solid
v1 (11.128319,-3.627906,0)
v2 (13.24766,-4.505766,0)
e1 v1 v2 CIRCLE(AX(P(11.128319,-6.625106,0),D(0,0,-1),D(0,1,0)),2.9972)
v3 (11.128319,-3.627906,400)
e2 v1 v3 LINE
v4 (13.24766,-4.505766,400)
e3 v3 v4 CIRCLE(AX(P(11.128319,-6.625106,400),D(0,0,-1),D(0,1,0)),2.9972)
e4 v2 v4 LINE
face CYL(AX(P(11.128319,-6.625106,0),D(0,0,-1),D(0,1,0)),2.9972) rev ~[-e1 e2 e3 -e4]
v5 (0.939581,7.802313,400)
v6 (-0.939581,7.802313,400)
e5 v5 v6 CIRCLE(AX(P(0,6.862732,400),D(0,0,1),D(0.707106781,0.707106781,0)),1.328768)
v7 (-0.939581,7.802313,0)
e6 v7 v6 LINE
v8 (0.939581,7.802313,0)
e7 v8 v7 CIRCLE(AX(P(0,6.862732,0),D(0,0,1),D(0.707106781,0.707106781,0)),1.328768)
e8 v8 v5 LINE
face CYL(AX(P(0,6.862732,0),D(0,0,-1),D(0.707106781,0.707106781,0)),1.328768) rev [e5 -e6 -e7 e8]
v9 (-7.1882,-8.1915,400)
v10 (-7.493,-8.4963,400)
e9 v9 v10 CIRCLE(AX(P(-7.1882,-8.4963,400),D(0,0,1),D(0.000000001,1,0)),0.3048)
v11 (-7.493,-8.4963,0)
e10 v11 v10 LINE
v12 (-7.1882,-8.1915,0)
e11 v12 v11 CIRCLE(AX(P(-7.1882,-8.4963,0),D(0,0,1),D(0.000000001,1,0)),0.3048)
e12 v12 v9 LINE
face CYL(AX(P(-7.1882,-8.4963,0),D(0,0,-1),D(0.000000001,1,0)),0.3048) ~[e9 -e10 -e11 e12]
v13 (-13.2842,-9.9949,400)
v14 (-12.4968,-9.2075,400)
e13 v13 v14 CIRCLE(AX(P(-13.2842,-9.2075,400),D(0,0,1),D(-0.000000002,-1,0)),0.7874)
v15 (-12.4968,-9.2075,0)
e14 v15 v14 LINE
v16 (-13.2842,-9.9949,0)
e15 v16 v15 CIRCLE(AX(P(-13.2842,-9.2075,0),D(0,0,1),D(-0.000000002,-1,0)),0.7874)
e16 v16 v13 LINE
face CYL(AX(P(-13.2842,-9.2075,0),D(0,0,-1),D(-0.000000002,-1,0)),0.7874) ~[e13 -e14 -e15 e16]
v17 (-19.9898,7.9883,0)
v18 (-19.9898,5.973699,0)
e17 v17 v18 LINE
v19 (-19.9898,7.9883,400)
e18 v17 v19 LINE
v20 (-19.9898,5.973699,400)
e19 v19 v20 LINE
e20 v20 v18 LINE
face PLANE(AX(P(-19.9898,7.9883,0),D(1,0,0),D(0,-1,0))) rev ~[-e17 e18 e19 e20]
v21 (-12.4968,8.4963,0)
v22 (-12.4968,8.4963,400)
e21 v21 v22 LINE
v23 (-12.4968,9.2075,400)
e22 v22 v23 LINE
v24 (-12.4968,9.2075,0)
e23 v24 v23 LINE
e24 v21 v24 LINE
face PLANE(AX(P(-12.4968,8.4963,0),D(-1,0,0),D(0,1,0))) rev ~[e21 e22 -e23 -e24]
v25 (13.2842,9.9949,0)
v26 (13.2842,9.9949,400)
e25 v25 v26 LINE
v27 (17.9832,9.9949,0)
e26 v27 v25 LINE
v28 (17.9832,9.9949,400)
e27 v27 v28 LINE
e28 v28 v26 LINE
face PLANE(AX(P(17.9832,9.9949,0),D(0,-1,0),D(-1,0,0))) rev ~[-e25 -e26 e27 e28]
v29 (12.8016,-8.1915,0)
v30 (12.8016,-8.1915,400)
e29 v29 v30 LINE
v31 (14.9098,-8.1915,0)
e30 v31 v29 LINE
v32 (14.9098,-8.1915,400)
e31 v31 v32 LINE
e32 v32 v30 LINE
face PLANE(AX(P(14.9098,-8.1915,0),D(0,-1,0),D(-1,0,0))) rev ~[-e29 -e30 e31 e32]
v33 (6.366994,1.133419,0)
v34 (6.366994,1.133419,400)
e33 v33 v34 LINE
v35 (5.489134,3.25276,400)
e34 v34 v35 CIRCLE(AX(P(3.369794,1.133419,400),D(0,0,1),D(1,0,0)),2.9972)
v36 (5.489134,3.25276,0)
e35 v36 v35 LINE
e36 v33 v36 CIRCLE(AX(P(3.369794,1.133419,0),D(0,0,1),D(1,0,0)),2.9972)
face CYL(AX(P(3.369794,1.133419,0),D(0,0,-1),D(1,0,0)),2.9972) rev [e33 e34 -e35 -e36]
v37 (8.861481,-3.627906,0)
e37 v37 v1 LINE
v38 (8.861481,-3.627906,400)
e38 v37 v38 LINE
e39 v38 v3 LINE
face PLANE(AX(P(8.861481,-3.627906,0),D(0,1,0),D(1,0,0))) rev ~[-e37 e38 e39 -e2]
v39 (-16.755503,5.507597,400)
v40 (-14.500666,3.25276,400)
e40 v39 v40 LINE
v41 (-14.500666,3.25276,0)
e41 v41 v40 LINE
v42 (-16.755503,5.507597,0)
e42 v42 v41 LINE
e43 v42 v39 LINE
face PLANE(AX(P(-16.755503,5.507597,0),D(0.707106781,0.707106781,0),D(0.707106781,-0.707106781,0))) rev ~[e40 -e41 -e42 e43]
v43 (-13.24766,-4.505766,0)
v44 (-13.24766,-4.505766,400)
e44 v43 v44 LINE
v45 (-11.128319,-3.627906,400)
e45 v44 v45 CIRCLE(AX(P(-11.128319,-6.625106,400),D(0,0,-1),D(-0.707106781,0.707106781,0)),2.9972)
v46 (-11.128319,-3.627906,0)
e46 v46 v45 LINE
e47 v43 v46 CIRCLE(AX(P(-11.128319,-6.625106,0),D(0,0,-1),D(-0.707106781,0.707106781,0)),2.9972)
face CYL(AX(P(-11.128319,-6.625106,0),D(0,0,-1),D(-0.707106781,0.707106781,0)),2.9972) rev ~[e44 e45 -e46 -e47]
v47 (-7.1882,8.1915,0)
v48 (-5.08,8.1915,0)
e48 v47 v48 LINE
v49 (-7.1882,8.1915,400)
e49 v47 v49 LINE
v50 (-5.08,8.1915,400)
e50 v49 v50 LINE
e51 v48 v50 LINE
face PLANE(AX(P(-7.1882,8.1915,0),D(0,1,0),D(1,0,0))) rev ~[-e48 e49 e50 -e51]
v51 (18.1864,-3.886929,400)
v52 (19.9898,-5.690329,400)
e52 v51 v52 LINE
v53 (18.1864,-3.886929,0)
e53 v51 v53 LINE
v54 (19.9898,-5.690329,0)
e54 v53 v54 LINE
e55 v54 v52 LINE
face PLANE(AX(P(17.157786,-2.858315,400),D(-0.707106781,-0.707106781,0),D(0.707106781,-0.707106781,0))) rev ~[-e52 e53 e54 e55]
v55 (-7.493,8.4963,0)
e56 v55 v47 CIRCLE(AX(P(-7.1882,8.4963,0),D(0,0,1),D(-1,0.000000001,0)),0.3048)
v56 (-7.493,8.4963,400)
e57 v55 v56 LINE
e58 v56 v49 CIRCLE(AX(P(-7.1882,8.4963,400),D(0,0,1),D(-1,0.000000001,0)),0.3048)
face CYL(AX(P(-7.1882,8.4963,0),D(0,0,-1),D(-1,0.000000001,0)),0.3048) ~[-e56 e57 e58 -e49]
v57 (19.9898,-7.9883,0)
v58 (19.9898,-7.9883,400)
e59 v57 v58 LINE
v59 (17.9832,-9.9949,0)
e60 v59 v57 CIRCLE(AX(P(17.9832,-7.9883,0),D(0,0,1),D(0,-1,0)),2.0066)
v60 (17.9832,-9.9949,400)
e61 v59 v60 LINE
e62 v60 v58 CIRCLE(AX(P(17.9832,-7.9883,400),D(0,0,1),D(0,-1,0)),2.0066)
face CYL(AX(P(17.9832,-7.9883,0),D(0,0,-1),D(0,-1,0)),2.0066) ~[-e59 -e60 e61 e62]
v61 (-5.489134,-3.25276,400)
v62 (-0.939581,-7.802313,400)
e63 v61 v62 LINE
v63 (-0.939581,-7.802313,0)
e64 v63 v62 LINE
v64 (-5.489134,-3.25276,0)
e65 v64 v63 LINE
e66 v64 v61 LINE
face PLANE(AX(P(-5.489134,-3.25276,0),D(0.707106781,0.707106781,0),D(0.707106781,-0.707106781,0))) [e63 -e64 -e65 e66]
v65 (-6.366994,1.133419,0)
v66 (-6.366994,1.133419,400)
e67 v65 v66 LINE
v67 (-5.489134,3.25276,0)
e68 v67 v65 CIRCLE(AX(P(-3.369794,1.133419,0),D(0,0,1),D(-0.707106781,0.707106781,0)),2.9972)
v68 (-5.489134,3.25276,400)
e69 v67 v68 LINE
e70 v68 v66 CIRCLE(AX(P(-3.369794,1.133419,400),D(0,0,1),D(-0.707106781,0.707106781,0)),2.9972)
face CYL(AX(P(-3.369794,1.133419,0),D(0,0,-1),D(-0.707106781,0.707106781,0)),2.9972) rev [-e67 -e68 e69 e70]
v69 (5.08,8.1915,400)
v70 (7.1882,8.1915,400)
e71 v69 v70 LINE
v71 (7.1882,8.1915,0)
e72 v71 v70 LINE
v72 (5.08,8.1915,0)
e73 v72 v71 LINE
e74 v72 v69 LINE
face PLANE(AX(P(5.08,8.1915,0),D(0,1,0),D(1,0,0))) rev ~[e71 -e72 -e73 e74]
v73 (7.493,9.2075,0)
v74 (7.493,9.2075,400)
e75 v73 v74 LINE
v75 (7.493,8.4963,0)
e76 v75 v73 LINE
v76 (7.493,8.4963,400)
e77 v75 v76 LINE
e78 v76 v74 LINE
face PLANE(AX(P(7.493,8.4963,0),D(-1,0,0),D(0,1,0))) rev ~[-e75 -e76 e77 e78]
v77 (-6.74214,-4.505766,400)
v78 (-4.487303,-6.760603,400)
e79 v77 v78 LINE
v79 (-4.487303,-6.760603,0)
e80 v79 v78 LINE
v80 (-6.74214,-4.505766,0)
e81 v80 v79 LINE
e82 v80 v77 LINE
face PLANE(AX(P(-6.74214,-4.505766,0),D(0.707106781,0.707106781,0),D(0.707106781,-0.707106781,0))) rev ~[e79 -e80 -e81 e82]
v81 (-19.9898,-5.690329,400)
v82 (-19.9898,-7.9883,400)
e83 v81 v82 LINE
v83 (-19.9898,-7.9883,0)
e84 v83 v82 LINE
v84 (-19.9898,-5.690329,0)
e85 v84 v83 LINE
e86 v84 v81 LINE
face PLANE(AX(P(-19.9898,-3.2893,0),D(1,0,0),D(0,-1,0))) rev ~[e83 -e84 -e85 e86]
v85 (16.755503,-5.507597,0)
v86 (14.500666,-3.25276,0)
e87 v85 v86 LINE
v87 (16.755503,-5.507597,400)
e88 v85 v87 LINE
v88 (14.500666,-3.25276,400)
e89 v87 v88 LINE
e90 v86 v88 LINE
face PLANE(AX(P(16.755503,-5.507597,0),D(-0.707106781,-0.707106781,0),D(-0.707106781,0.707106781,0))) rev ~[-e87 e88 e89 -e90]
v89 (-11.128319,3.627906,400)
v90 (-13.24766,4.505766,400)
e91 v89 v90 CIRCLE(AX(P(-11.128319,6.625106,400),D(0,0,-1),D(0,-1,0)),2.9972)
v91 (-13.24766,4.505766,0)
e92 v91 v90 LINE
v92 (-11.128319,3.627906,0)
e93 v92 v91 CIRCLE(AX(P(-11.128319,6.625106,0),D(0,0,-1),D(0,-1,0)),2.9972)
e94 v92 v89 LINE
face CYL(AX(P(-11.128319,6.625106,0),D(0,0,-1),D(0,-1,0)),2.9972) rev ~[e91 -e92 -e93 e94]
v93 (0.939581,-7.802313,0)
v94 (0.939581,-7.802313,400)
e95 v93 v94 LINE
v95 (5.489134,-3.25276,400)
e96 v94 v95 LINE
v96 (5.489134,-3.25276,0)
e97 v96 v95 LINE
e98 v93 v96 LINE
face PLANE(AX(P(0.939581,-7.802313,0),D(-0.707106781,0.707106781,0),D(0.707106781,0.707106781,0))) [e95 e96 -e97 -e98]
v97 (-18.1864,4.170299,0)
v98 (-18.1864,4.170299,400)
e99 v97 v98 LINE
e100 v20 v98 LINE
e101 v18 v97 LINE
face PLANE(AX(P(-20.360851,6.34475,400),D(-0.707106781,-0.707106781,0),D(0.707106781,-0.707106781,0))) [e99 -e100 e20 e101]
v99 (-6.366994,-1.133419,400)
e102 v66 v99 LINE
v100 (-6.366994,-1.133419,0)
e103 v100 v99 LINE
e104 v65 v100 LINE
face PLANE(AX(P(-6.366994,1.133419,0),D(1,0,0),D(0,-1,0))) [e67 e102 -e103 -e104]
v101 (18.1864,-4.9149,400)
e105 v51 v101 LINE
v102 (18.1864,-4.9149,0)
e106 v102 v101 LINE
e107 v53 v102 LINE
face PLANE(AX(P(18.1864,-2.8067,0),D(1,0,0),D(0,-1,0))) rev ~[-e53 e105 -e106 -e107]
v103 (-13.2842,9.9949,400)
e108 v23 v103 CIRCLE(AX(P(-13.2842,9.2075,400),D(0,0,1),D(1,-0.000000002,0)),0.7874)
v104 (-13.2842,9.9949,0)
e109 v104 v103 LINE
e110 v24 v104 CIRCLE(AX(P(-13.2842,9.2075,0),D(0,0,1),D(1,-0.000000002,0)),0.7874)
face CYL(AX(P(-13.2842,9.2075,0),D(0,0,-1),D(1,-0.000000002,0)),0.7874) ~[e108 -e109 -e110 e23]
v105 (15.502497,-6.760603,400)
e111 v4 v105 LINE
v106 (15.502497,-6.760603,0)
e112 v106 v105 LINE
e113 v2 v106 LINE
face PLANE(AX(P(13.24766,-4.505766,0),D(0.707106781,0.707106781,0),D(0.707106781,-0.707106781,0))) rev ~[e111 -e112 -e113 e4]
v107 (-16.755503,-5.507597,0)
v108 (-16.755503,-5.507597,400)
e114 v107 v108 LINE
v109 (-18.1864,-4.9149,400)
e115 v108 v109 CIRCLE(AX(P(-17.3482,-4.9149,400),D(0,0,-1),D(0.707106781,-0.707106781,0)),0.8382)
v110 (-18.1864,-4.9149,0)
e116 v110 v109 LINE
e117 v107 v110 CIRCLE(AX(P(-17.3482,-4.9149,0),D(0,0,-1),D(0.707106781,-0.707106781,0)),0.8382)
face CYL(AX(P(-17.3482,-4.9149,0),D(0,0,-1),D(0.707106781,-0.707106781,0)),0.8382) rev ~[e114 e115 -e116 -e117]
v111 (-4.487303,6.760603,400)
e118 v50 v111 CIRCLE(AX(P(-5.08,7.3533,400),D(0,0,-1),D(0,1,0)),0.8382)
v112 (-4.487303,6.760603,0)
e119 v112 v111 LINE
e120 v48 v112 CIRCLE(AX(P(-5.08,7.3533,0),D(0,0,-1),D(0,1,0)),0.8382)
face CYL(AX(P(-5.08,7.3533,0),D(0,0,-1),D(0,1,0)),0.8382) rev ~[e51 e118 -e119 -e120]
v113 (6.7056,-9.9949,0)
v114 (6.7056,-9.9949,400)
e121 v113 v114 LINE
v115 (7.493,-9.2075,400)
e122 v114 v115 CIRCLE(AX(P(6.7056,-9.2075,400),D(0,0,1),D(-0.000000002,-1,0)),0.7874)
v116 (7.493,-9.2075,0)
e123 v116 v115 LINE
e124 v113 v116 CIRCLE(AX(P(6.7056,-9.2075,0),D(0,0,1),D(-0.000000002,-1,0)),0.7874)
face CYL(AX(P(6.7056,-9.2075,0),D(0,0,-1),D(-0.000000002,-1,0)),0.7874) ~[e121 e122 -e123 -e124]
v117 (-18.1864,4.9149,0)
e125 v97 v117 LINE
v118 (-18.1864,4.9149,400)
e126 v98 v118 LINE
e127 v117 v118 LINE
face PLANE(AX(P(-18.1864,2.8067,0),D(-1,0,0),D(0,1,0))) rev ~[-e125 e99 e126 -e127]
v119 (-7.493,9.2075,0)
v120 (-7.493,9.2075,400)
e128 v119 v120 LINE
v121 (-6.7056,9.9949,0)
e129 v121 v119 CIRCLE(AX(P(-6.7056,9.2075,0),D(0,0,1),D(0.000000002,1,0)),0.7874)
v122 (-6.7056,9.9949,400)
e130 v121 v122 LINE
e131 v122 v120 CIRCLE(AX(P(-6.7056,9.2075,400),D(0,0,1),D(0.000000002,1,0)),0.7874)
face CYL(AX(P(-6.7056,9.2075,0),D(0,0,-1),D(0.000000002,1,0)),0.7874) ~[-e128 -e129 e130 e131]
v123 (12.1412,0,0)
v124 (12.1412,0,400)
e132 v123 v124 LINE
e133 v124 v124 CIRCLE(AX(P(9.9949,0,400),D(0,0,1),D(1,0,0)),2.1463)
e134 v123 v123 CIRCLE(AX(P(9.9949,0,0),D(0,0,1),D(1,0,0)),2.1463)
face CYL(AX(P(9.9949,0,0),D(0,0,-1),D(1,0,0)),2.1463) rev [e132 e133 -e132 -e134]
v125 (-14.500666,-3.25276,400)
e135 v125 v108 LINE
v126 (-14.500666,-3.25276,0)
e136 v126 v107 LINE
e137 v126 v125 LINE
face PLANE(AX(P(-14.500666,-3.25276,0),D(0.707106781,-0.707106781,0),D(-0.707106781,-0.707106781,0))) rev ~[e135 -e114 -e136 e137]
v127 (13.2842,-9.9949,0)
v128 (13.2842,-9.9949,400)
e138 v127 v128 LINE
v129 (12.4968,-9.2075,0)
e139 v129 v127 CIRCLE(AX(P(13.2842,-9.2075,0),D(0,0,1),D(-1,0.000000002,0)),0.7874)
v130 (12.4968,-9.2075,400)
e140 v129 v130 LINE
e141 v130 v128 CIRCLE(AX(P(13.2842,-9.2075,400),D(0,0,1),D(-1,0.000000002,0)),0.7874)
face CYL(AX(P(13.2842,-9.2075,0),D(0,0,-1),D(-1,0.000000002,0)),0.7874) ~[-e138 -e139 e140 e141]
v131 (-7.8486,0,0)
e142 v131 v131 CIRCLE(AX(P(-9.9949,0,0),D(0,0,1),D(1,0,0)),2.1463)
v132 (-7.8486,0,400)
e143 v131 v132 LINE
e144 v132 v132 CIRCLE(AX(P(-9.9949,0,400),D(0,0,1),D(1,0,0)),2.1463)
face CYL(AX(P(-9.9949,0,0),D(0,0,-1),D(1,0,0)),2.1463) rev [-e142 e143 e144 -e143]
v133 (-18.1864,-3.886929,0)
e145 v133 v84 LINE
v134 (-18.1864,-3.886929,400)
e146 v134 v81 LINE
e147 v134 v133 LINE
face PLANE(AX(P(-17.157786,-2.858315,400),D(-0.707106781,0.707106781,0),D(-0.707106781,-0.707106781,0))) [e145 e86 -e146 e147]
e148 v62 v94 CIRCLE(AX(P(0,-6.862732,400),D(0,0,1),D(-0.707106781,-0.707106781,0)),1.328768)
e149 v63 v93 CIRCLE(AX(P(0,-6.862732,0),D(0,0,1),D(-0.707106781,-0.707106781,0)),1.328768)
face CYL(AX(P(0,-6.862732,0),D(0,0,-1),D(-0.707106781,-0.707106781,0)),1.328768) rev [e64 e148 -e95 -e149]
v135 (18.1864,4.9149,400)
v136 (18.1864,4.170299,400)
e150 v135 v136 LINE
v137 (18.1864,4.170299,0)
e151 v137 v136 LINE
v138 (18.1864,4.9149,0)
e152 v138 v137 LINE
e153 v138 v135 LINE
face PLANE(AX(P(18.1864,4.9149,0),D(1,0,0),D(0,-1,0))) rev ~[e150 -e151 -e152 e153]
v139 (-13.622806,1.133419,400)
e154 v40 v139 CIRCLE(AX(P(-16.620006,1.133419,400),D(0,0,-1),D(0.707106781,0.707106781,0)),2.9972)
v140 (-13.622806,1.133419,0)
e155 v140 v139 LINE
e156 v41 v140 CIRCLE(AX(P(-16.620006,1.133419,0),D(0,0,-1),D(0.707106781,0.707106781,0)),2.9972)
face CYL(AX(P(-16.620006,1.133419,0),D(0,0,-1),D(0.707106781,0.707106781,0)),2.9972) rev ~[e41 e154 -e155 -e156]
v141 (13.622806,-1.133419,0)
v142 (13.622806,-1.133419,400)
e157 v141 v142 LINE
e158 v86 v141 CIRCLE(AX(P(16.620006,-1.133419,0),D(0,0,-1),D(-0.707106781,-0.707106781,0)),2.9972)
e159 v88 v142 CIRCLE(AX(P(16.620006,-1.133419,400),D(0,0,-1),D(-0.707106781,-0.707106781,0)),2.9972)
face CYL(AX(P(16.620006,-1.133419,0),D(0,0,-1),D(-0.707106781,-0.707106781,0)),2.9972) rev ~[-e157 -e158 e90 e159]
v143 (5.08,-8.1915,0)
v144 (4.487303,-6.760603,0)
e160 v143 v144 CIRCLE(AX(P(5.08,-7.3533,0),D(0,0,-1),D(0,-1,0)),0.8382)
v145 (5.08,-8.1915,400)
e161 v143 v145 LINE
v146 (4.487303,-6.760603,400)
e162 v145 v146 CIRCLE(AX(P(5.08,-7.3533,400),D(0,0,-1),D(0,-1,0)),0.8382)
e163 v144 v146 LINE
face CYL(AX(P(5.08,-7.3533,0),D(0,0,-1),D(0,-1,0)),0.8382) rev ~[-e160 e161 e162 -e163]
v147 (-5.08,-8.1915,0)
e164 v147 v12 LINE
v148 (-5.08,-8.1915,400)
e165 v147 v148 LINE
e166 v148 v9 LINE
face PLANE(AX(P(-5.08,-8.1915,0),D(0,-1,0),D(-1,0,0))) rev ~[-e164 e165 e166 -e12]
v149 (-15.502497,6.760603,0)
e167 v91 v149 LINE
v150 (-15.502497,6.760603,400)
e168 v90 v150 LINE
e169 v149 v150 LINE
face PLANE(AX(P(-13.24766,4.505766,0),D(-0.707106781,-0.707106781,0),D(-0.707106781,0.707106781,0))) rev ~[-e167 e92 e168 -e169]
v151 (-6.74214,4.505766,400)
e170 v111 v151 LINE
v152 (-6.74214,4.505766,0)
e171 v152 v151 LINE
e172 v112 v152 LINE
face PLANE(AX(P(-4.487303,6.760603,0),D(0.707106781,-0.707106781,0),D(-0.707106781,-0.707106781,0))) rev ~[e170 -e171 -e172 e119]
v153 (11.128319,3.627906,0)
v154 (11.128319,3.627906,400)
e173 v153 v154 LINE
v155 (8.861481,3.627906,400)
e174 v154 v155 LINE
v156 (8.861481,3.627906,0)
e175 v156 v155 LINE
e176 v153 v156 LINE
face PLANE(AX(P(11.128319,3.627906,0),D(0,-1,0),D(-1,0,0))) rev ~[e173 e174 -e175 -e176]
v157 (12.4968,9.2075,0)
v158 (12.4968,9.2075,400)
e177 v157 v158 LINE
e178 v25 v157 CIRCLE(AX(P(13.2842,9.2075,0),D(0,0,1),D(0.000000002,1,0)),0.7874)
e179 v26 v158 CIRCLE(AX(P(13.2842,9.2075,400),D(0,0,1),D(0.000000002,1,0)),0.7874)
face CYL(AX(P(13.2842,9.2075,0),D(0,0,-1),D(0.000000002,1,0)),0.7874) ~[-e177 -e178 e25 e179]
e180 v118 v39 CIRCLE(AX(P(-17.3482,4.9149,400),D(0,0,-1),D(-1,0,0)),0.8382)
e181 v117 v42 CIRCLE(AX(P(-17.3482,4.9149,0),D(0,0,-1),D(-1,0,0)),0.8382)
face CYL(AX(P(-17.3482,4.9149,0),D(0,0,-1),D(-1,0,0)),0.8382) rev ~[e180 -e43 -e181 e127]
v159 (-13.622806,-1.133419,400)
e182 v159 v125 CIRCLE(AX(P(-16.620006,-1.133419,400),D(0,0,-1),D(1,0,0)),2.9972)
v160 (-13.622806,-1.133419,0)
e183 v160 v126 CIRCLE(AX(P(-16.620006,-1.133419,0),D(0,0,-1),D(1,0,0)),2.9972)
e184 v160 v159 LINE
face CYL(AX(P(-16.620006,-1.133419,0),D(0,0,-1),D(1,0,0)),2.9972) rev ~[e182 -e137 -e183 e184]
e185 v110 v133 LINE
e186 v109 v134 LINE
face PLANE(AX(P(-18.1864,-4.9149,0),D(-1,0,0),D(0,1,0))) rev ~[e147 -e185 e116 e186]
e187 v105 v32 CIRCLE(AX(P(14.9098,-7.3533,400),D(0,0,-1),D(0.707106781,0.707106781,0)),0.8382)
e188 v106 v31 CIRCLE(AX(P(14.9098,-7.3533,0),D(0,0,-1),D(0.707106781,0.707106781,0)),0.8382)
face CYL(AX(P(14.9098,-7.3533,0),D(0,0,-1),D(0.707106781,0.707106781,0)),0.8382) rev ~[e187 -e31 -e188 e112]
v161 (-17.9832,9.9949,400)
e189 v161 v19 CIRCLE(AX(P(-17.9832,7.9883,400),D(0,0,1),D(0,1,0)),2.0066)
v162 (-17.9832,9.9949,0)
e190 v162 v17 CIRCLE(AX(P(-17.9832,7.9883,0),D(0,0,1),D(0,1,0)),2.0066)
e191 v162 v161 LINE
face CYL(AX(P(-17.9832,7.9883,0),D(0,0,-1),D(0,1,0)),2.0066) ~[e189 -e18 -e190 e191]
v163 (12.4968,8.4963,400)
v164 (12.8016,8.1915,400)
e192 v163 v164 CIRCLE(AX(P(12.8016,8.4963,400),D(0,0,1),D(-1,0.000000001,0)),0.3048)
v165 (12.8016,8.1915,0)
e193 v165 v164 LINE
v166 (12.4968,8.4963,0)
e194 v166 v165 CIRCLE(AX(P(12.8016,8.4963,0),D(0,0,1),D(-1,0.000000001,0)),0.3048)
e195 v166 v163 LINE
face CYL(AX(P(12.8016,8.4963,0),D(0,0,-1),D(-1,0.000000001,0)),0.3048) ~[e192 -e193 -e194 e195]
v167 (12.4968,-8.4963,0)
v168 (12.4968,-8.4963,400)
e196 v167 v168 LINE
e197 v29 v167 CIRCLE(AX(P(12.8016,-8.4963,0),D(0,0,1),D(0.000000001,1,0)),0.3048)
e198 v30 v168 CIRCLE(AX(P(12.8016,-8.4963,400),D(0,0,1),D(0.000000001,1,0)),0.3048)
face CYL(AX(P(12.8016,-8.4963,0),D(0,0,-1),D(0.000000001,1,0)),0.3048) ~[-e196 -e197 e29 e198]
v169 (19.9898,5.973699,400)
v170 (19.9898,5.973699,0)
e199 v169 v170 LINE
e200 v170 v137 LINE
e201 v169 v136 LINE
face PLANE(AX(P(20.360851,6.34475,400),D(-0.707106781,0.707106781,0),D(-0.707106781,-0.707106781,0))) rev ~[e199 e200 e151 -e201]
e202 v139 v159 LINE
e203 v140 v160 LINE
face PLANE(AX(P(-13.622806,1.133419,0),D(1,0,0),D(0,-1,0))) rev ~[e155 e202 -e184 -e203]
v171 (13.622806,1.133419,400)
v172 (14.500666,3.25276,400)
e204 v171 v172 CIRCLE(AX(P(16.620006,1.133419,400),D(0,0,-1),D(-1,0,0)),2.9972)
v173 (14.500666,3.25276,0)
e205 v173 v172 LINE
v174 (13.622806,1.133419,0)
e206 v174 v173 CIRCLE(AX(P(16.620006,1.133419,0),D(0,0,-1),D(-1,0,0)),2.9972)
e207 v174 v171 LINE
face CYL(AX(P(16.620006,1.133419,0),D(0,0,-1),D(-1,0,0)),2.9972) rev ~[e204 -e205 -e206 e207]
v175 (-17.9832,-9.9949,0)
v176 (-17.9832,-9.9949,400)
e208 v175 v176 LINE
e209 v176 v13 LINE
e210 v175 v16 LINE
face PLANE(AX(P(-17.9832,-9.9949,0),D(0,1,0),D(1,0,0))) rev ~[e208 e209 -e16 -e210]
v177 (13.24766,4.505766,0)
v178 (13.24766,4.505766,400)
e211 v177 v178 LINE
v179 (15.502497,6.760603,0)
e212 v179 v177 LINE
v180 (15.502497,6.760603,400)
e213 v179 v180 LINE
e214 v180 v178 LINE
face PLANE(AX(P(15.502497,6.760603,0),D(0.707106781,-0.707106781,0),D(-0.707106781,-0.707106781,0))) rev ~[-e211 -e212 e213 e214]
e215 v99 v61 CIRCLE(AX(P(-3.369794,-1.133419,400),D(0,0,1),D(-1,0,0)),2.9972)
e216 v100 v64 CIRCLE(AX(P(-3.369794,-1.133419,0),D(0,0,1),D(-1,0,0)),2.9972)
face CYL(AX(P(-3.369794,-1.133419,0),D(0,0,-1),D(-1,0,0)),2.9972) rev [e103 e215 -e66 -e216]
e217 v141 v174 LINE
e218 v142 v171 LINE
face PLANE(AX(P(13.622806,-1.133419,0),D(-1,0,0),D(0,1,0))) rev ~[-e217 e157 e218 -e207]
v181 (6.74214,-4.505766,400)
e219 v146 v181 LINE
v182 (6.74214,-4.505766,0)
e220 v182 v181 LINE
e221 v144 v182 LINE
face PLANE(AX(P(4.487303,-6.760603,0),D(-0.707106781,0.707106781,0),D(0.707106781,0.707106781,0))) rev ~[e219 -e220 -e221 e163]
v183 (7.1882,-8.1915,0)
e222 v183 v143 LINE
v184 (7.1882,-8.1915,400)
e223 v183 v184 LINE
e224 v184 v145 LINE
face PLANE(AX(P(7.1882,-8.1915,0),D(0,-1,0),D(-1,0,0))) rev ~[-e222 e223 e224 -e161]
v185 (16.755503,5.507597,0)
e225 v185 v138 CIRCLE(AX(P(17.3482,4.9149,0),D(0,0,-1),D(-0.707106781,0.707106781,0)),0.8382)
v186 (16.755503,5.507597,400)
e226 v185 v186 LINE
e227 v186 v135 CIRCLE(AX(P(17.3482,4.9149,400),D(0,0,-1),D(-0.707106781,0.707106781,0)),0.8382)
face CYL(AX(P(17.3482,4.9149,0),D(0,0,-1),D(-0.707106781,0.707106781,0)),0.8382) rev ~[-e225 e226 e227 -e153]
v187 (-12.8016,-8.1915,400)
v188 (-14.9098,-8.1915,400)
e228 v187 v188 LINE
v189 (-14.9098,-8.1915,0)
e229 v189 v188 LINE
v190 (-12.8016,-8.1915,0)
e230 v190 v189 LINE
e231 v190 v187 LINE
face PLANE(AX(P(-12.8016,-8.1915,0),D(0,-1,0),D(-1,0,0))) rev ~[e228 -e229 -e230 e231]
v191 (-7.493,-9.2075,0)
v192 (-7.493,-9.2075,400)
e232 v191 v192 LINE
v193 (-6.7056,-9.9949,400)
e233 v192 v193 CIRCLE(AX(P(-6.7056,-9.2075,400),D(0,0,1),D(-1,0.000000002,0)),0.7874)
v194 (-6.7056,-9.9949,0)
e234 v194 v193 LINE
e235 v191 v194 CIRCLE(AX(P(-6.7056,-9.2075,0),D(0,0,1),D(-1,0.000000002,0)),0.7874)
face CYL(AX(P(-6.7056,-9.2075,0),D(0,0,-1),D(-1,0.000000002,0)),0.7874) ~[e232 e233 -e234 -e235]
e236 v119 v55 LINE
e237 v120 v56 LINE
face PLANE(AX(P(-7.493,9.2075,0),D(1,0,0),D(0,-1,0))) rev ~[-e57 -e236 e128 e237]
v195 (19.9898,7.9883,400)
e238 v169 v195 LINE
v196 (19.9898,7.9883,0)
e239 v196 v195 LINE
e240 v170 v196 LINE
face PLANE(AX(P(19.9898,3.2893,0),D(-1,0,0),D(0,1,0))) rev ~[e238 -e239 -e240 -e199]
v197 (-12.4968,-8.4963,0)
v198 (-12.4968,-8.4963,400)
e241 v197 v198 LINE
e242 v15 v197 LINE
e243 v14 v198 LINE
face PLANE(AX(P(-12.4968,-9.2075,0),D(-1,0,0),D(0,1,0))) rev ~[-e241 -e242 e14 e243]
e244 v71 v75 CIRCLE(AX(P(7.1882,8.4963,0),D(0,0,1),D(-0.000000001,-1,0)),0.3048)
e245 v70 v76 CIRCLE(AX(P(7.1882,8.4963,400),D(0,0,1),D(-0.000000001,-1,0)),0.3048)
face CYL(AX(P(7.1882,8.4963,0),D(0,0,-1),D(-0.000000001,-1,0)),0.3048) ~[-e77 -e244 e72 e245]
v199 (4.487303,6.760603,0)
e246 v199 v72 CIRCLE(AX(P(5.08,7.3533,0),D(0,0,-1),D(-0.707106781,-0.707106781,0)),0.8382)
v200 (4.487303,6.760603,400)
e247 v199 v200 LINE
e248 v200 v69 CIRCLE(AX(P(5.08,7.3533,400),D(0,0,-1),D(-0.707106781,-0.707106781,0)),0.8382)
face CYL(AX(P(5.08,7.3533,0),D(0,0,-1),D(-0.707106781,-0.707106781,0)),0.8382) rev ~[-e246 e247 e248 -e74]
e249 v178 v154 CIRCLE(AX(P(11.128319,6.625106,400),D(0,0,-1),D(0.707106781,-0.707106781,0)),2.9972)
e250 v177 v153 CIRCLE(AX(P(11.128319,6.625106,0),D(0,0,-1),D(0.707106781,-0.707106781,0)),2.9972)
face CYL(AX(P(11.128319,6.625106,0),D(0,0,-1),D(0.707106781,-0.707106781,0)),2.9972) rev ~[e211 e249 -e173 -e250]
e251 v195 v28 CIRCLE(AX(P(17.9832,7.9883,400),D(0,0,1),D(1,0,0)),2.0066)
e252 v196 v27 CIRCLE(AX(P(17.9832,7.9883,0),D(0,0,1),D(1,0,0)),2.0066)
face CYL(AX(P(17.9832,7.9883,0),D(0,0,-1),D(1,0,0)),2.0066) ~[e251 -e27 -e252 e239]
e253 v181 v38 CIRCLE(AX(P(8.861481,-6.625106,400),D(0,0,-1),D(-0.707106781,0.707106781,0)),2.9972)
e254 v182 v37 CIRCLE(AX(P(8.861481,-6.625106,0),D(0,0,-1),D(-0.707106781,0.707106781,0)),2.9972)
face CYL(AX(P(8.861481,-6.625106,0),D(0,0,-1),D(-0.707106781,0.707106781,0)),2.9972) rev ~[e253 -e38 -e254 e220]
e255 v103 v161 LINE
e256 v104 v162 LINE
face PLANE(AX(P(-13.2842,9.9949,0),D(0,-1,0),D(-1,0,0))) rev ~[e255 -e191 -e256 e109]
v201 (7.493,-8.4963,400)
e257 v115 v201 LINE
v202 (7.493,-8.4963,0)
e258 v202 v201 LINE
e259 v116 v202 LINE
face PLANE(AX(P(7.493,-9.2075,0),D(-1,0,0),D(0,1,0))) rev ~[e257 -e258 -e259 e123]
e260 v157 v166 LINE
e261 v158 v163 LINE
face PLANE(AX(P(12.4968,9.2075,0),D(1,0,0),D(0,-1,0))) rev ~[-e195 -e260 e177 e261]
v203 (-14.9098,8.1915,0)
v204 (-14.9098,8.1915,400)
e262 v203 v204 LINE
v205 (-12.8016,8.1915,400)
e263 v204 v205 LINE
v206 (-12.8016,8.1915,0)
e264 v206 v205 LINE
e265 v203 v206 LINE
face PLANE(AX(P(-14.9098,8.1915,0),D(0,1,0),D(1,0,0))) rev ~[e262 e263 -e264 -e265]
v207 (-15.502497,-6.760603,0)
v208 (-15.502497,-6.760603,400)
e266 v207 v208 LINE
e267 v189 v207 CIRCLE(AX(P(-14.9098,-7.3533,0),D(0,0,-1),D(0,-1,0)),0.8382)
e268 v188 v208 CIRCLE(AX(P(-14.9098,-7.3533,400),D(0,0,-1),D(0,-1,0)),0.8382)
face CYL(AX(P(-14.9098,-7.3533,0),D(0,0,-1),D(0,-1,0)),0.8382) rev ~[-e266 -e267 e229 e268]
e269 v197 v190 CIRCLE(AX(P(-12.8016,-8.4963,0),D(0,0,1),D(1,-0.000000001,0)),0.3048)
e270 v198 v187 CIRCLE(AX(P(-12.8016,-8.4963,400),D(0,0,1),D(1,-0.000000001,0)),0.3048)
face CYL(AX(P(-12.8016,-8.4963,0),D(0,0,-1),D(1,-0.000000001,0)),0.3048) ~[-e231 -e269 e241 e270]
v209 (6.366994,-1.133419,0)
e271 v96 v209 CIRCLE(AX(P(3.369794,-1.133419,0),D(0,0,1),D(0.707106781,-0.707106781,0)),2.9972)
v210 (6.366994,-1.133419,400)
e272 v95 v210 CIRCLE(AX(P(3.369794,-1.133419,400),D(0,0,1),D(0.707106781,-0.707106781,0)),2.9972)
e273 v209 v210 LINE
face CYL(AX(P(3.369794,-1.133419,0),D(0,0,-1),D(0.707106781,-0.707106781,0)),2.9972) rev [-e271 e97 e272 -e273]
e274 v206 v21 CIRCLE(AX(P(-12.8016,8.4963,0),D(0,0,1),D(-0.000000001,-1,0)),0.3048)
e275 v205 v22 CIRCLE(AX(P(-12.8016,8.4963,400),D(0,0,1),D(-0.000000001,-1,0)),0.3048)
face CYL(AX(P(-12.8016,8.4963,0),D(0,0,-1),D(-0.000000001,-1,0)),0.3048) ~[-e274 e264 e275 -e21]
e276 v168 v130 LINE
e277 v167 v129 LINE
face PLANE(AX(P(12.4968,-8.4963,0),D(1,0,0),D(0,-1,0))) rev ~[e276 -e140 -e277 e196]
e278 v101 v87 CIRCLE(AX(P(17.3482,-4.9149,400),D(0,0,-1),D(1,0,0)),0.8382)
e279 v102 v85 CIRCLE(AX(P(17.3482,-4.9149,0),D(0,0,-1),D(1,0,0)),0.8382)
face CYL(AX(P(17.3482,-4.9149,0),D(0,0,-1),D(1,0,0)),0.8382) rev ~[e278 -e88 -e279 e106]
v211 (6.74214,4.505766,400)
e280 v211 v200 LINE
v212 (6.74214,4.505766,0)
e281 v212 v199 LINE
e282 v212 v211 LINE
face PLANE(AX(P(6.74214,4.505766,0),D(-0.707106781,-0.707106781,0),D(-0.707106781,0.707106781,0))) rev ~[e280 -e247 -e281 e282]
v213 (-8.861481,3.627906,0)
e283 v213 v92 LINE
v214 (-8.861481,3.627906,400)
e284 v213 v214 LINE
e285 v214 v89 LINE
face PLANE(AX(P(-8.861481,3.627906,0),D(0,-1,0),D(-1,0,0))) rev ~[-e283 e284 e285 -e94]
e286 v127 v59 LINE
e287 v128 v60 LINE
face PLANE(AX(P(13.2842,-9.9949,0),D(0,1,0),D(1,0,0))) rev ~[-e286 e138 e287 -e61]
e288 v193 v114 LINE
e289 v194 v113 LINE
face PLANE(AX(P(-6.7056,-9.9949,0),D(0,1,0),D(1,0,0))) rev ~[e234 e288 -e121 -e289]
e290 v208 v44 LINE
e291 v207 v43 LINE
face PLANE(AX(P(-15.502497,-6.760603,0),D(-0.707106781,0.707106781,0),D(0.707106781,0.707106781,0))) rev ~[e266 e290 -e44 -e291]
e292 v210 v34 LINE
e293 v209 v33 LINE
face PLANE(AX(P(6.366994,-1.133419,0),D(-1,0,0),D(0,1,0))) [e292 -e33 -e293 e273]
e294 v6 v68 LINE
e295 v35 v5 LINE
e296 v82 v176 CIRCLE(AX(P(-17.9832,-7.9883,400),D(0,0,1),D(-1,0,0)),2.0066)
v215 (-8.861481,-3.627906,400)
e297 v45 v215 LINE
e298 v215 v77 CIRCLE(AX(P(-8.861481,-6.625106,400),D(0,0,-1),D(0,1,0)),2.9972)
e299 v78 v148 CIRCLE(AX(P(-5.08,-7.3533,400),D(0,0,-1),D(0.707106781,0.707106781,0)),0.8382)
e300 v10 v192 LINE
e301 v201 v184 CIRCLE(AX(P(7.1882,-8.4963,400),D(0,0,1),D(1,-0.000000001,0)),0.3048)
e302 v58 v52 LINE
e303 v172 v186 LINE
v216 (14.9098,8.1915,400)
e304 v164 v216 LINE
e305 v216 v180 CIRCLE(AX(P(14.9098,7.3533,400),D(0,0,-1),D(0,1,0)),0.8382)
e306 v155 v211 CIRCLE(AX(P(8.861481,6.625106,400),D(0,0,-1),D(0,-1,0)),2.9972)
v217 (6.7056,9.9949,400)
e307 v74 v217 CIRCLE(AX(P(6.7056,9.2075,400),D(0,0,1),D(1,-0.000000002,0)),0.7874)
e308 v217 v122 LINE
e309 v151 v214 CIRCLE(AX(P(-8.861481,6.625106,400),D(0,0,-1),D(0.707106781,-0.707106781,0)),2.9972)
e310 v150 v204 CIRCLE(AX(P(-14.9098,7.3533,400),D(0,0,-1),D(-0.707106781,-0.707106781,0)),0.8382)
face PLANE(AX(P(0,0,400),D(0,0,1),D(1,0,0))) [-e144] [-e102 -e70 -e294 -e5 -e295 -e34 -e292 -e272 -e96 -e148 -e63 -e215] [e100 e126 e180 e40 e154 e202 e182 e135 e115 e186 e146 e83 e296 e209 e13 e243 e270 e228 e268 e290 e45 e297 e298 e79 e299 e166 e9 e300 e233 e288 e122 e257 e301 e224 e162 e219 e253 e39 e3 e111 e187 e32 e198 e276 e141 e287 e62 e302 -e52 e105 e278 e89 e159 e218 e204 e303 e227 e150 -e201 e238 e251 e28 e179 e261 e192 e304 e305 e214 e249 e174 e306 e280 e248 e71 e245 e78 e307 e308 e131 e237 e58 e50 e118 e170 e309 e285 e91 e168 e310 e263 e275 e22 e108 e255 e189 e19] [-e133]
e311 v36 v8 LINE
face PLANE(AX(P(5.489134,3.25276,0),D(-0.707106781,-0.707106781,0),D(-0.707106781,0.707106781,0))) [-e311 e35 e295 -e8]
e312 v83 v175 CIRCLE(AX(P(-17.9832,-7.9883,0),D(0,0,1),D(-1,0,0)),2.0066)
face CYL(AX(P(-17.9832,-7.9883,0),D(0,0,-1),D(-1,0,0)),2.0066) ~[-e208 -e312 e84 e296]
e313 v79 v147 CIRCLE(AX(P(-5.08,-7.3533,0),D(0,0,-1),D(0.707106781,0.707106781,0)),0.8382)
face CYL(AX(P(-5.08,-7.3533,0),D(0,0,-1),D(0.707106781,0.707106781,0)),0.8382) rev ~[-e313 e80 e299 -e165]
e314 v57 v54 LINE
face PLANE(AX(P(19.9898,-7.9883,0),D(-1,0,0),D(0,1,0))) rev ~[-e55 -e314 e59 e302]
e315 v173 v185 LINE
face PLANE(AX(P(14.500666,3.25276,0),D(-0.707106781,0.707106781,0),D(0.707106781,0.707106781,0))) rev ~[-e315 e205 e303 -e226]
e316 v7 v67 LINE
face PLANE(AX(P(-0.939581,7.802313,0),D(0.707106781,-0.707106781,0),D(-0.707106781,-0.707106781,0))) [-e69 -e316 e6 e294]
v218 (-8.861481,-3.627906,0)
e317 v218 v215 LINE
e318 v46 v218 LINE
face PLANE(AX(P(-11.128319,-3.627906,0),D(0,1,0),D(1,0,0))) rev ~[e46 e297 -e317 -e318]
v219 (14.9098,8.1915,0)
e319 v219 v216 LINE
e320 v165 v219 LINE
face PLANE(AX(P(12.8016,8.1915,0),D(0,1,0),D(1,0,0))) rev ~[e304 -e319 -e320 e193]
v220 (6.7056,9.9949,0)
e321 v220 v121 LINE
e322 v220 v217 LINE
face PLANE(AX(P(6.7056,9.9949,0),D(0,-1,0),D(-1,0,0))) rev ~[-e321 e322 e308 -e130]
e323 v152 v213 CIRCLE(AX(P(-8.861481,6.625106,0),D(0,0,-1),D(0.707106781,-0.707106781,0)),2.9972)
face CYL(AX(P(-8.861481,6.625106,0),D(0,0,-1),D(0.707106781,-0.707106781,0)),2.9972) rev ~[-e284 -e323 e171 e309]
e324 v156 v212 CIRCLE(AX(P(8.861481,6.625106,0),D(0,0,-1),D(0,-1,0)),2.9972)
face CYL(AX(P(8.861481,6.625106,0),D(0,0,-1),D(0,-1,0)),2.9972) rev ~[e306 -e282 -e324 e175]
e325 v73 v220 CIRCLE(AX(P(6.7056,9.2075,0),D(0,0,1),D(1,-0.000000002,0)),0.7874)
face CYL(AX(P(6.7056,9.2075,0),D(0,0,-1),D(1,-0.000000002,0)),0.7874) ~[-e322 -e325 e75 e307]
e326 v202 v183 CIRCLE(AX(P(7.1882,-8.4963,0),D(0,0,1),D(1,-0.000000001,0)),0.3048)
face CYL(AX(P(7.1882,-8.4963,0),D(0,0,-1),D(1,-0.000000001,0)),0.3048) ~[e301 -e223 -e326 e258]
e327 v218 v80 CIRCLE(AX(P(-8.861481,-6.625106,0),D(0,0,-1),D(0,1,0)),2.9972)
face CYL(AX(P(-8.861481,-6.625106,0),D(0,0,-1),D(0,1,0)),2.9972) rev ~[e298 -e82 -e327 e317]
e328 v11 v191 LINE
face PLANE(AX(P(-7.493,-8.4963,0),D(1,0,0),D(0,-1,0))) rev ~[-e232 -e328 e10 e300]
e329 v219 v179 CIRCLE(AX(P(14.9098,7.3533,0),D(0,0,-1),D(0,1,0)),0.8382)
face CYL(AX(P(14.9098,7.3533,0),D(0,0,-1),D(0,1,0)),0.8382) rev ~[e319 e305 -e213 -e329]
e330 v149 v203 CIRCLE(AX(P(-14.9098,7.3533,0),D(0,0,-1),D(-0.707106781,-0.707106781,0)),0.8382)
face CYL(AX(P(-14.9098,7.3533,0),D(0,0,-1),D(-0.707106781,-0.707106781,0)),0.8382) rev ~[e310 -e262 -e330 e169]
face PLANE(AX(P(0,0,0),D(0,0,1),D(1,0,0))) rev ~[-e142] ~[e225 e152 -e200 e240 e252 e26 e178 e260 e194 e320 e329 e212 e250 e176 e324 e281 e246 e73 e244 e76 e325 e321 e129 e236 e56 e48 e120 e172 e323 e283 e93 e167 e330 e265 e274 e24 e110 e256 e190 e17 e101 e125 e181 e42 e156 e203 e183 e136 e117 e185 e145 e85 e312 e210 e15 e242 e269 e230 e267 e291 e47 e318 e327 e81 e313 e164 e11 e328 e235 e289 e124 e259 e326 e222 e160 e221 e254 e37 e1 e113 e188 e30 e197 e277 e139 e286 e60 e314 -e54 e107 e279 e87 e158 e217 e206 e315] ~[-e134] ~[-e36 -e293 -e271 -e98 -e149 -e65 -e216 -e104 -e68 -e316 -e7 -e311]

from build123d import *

# Parameters (mm, degrees)
SKETCH1_R           = 2.1463
BOSS_EXTRUDE1_DEPTH = 400
CUT_EXTRUDE1_DEPTH  = 401


with BuildPart() as part:
    # Sketch1 → Boss-Extrude1 (new body)
    with BuildSketch(Plane.XY):
        with BuildLine():
            Line((-19.9898, 7.9883), (-19.9898, 3.2893))
            ThreePointArc((-19.9898, 3.2893), (-19.75917588, 2.73252412), (-19.2024, 2.5019))
            Line((-19.2024, 2.5019), (-18.4912, 2.5019))
            ThreePointArc((-18.4912, 2.5019), (-18.275673853, 2.591173853), (-18.1864, 2.8067))
            Line((-18.1864, 2.8067), (-18.1864, 4.9149))
            ThreePointArc((-18.1864, 4.9149), (-17.668965253, 5.689295824), (-16.755503096, 5.507596904))
            Line((-16.755503096, 5.507596904), (-14.500665747, 3.252759555))
            ThreePointArc((-14.500665747, 3.252759555), (-13.850954457, 2.280397894), (-13.622806192, 1.133419111))
            Line((-13.622806192, 1.133419111), (-13.622806192, -1.133419111))
            ThreePointArc((-13.622806192, -1.133419111), (-13.850954457, -2.280397894), (-14.500665747, -3.252759555))
            Line((-14.500665747, -3.252759555), (-16.755503096, -5.507596904))
            ThreePointArc((-16.755503096, -5.507596904), (-17.668965253, -5.689295824), (-18.1864, -4.9149))
            Line((-18.1864, -4.9149), (-18.1864, -2.8067))
            ThreePointArc((-18.1864, -2.8067), (-18.275673853, -2.591173853), (-18.4912, -2.5019))
            Line((-18.4912, -2.5019), (-19.2024, -2.5019))
            ThreePointArc((-19.2024, -2.5019), (-19.75917588, -2.73252412), (-19.9898, -3.2893))
            Line((-19.9898, -3.2893), (-19.9898, -7.9883))
            ThreePointArc((-19.9898, -7.9883), (-19.402080467, -9.407180467), (-17.9832, -9.9949))
            Line((-17.9832, -9.9949), (-13.2842, -9.9949))
            ThreePointArc((-13.2842, -9.9949), (-12.72742412, -9.76427588), (-12.4968, -9.2075))
            Line((-12.4968, -9.2075), (-12.4968, -8.4963))
            ThreePointArc((-12.4968, -8.4963), (-12.586073853, -8.280773853), (-12.8016, -8.1915))
            Line((-12.8016, -8.1915), (-14.9098, -8.1915))
            ThreePointArc((-14.9098, -8.1915), (-15.684195824, -7.674065253), (-15.502496904, -6.760603096))
            Line((-15.502496904, -6.760603096), (-13.247659555, -4.505765747))
            ThreePointArc((-13.247659555, -4.505765747), (-12.275297894, -3.856054457), (-11.128319111, -3.627906192))
            Line((-11.128319111, -3.627906192), (-8.861480889, -3.627906192))
            ThreePointArc((-8.861480889, -3.627906192), (-7.714502106, -3.856054457), (-6.742140445, -4.505765747))
            Line((-6.742140445, -4.505765747), (-4.487303096, -6.760603096))
            ThreePointArc((-4.487303096, -6.760603096), (-4.305604176, -7.674065253), (-5.08, -8.1915))
            Line((-5.08, -8.1915), (-7.1882, -8.1915))
            ThreePointArc((-7.1882, -8.1915), (-7.403726147, -8.280773853), (-7.493, -8.4963))
            Line((-7.493, -8.4963), (-7.493, -9.2075))
            ThreePointArc((-7.493, -9.2075), (-7.26237588, -9.76427588), (-6.7056, -9.9949))
            Line((-6.7056, -9.9949), (0, -9.9949))
            Line((0, -9.9949), (6.7056, -9.9949))
            ThreePointArc((6.7056, -9.9949), (7.26237588, -9.76427588), (7.493, -9.2075))
            Line((7.493, -9.2075), (7.493, -8.4963))
            ThreePointArc((7.493, -8.4963), (7.403726147, -8.280773853), (7.1882, -8.1915))
            Line((7.1882, -8.1915), (5.08, -8.1915))
            ThreePointArc((5.08, -8.1915), (4.305604176, -7.674065253), (4.487303096, -6.760603096))
            Line((4.487303096, -6.760603096), (6.742140445, -4.505765747))
            ThreePointArc((6.742140445, -4.505765747), (7.714502106, -3.856054457), (8.861480889, -3.627906192))
            Line((8.861480889, -3.627906192), (11.128319111, -3.627906192))
            ThreePointArc((11.128319111, -3.627906192), (12.275297894, -3.856054457), (13.247659555, -4.505765747))
            Line((13.247659555, -4.505765747), (15.502496904, -6.760603096))
            ThreePointArc((15.502496904, -6.760603096), (15.684195824, -7.674065253), (14.9098, -8.1915))
            Line((14.9098, -8.1915), (12.8016, -8.1915))
            ThreePointArc((12.8016, -8.1915), (12.586073853, -8.280773853), (12.4968, -8.4963))
            Line((12.4968, -8.4963), (12.4968, -9.2075))
            ThreePointArc((12.4968, -9.2075), (12.72742412, -9.76427588), (13.2842, -9.9949))
            Line((13.2842, -9.9949), (17.9832, -9.9949))
            ThreePointArc((17.9832, -9.9949), (19.402080467, -9.407180467), (19.9898, -7.9883))
            Line((19.9898, -7.9883), (19.9898, -3.2893))
            ThreePointArc((19.9898, -3.2893), (19.75917588, -2.73252412), (19.2024, -2.5019))
            Line((19.2024, -2.5019), (18.4912, -2.5019))
            ThreePointArc((18.4912, -2.5019), (18.275673853, -2.591173853), (18.1864, -2.8067))
            Line((18.1864, -2.8067), (18.1864, -4.9149))
            ThreePointArc((18.1864, -4.9149), (17.668965253, -5.689295824), (16.755503096, -5.507596904))
            Line((16.755503096, -5.507596904), (14.500665747, -3.252759555))
            ThreePointArc((14.500665747, -3.252759555), (13.850954457, -2.280397894), (13.622806192, -1.133419111))
            Line((13.622806192, -1.133419111), (13.622806192, 1.133419111))
            ThreePointArc((13.622806192, 1.133419111), (13.850954457, 2.280397894), (14.500665747, 3.252759555))
            Line((14.500665747, 3.252759555), (16.755503096, 5.507596904))
            ThreePointArc((16.755503096, 5.507596904), (17.668965253, 5.689295824), (18.1864, 4.9149))
            Line((18.1864, 4.9149), (18.1864, 2.8067))
            ThreePointArc((18.1864, 2.8067), (18.275673853, 2.591173853), (18.4912, 2.5019))
            Line((18.4912, 2.5019), (19.2024, 2.5019))
            ThreePointArc((19.2024, 2.5019), (19.75917588, 2.73252412), (19.9898, 3.2893))
            Line((19.9898, 3.2893), (19.9898, 7.9883))
            ThreePointArc((19.9898, 7.9883), (19.402080467, 9.407180467), (17.9832, 9.9949))
            Line((17.9832, 9.9949), (13.2842, 9.9949))
            ThreePointArc((13.2842, 9.9949), (12.72742412, 9.76427588), (12.4968, 9.2075))
            Line((12.4968, 9.2075), (12.4968, 8.4963))
            ThreePointArc((12.4968, 8.4963), (12.586073853, 8.280773853), (12.8016, 8.1915))
            Line((12.8016, 8.1915), (14.9098, 8.1915))
            ThreePointArc((14.9098, 8.1915), (15.684195824, 7.674065253), (15.502496904, 6.760603096))
            Line((15.502496904, 6.760603096), (13.247659555, 4.505765747))
            ThreePointArc((13.247659555, 4.505765747), (12.275297894, 3.856054457), (11.128319111, 3.627906192))
            Line((11.128319111, 3.627906192), (8.861480889, 3.627906192))
            ThreePointArc((8.861480889, 3.627906192), (7.714502106, 3.856054457), (6.742140445, 4.505765747))
            Line((6.742140445, 4.505765747), (4.487303096, 6.760603096))
            ThreePointArc((4.487303096, 6.760603096), (4.305604176, 7.674065253), (5.08, 8.1915))
            Line((5.08, 8.1915), (7.1882, 8.1915))
            ThreePointArc((7.1882, 8.1915), (7.403726147, 8.280773853), (7.493, 8.4963))
            Line((7.493, 8.4963), (7.493, 9.2075))
            ThreePointArc((7.493, 9.2075), (7.26237588, 9.76427588), (6.7056, 9.9949))
            Line((6.7056, 9.9949), (0, 9.9949))
            Line((0, 9.9949), (-6.7056, 9.9949))
            ThreePointArc((-6.7056, 9.9949), (-7.26237588, 9.76427588), (-7.493, 9.2075))
            Line((-7.493, 9.2075), (-7.493, 8.4963))
            ThreePointArc((-7.493, 8.4963), (-7.403726147, 8.280773853), (-7.1882, 8.1915))
            Line((-7.1882, 8.1915), (-5.08, 8.1915))
            ThreePointArc((-5.08, 8.1915), (-4.305604176, 7.674065253), (-4.487303096, 6.760603096))
            Line((-4.487303096, 6.760603096), (-6.742140445, 4.505765747))
            ThreePointArc((-6.742140445, 4.505765747), (-7.714502106, 3.856054457), (-8.861480889, 3.627906192))
            Line((-8.861480889, 3.627906192), (-11.128319111, 3.627906192))
            ThreePointArc((-11.128319111, 3.627906192), (-12.275297894, 3.856054457), (-13.247659555, 4.505765747))
            Line((-13.247659555, 4.505765747), (-15.502496904, 6.760603096))
            ThreePointArc((-15.502496904, 6.760603096), (-15.684195824, 7.674065253), (-14.9098, 8.1915))
            Line((-14.9098, 8.1915), (-12.8016, 8.1915))
            ThreePointArc((-12.8016, 8.1915), (-12.586073853, 8.280773853), (-12.4968, 8.4963))
            Line((-12.4968, 8.4963), (-12.4968, 9.2075))
            ThreePointArc((-12.4968, 9.2075), (-12.72742412, 9.76427588), (-13.2842, 9.9949))
            Line((-13.2842, 9.9949), (-17.9832, 9.9949))
            ThreePointArc((-17.9832, 9.9949), (-19.402080467, 9.407180467), (-19.9898, 7.9883))
        make_face()
        with Locations((-9.9949, 0)):
            Circle(SKETCH1_R, mode=Mode.SUBTRACT)
        with Locations((9.9949, 0)):
            Circle(SKETCH1_R, mode=Mode.SUBTRACT)
        with BuildLine():
            Line((-6.366993808, 1.133419111), (-6.366993808, -1.133419111))
            ThreePointArc((-6.366993808, -1.133419111), (-6.138845543, -2.280397894), (-5.489134253, -3.252759555))
            Line((-5.489134253, -3.252759555), (-0.939581002, -7.802312806))
            ThreePointArc((-0.939581002, -7.802312806), (0, -8.1915), (0.939581002, -7.802312806))
            Line((0.939581002, -7.802312806), (5.489134253, -3.252759555))
            ThreePointArc((5.489134253, -3.252759555), (6.138845543, -2.280397894), (6.366993808, -1.133419111))
            Line((6.366993808, -1.133419111), (6.366993808, 1.133419111))
            ThreePointArc((6.366993808, 1.133419111), (6.138845543, 2.280397894), (5.489134253, 3.252759555))
            Line((5.489134253, 3.252759555), (0.939581002, 7.802312806))
            ThreePointArc((0.939581002, 7.802312806), (0, 8.1915), (-0.939581002, 7.802312806))
            Line((-0.939581002, 7.802312806), (-5.489134253, 3.252759555))
            ThreePointArc((-5.489134253, 3.252759555), (-6.138845543, 2.280397894), (-6.366993808, 1.133419111))
        make_face(mode=Mode.SUBTRACT)
    extrude(amount=BOSS_EXTRUDE1_DEPTH)

    # Sketch2 → Cut-Extrude1 (cut, through all)
    with BuildSketch(Plane.XY.offset(400)):
        Polygon((-20.360851008, 6.344750297), (-17.157785984, 3.141685274), (-17.157785984, -2.858314726), (-20.360851008, -6.06137975), align=None)
        Polygon((17.157785984, -2.858314726), (20.360851008, -6.06137975), (20.360851008, 6.344750297), (17.157785984, 3.141685274), align=None)
    extrude(amount=-CUT_EXTRUDE1_DEPTH, mode=Mode.SUBTRACT)


solid = part.part
